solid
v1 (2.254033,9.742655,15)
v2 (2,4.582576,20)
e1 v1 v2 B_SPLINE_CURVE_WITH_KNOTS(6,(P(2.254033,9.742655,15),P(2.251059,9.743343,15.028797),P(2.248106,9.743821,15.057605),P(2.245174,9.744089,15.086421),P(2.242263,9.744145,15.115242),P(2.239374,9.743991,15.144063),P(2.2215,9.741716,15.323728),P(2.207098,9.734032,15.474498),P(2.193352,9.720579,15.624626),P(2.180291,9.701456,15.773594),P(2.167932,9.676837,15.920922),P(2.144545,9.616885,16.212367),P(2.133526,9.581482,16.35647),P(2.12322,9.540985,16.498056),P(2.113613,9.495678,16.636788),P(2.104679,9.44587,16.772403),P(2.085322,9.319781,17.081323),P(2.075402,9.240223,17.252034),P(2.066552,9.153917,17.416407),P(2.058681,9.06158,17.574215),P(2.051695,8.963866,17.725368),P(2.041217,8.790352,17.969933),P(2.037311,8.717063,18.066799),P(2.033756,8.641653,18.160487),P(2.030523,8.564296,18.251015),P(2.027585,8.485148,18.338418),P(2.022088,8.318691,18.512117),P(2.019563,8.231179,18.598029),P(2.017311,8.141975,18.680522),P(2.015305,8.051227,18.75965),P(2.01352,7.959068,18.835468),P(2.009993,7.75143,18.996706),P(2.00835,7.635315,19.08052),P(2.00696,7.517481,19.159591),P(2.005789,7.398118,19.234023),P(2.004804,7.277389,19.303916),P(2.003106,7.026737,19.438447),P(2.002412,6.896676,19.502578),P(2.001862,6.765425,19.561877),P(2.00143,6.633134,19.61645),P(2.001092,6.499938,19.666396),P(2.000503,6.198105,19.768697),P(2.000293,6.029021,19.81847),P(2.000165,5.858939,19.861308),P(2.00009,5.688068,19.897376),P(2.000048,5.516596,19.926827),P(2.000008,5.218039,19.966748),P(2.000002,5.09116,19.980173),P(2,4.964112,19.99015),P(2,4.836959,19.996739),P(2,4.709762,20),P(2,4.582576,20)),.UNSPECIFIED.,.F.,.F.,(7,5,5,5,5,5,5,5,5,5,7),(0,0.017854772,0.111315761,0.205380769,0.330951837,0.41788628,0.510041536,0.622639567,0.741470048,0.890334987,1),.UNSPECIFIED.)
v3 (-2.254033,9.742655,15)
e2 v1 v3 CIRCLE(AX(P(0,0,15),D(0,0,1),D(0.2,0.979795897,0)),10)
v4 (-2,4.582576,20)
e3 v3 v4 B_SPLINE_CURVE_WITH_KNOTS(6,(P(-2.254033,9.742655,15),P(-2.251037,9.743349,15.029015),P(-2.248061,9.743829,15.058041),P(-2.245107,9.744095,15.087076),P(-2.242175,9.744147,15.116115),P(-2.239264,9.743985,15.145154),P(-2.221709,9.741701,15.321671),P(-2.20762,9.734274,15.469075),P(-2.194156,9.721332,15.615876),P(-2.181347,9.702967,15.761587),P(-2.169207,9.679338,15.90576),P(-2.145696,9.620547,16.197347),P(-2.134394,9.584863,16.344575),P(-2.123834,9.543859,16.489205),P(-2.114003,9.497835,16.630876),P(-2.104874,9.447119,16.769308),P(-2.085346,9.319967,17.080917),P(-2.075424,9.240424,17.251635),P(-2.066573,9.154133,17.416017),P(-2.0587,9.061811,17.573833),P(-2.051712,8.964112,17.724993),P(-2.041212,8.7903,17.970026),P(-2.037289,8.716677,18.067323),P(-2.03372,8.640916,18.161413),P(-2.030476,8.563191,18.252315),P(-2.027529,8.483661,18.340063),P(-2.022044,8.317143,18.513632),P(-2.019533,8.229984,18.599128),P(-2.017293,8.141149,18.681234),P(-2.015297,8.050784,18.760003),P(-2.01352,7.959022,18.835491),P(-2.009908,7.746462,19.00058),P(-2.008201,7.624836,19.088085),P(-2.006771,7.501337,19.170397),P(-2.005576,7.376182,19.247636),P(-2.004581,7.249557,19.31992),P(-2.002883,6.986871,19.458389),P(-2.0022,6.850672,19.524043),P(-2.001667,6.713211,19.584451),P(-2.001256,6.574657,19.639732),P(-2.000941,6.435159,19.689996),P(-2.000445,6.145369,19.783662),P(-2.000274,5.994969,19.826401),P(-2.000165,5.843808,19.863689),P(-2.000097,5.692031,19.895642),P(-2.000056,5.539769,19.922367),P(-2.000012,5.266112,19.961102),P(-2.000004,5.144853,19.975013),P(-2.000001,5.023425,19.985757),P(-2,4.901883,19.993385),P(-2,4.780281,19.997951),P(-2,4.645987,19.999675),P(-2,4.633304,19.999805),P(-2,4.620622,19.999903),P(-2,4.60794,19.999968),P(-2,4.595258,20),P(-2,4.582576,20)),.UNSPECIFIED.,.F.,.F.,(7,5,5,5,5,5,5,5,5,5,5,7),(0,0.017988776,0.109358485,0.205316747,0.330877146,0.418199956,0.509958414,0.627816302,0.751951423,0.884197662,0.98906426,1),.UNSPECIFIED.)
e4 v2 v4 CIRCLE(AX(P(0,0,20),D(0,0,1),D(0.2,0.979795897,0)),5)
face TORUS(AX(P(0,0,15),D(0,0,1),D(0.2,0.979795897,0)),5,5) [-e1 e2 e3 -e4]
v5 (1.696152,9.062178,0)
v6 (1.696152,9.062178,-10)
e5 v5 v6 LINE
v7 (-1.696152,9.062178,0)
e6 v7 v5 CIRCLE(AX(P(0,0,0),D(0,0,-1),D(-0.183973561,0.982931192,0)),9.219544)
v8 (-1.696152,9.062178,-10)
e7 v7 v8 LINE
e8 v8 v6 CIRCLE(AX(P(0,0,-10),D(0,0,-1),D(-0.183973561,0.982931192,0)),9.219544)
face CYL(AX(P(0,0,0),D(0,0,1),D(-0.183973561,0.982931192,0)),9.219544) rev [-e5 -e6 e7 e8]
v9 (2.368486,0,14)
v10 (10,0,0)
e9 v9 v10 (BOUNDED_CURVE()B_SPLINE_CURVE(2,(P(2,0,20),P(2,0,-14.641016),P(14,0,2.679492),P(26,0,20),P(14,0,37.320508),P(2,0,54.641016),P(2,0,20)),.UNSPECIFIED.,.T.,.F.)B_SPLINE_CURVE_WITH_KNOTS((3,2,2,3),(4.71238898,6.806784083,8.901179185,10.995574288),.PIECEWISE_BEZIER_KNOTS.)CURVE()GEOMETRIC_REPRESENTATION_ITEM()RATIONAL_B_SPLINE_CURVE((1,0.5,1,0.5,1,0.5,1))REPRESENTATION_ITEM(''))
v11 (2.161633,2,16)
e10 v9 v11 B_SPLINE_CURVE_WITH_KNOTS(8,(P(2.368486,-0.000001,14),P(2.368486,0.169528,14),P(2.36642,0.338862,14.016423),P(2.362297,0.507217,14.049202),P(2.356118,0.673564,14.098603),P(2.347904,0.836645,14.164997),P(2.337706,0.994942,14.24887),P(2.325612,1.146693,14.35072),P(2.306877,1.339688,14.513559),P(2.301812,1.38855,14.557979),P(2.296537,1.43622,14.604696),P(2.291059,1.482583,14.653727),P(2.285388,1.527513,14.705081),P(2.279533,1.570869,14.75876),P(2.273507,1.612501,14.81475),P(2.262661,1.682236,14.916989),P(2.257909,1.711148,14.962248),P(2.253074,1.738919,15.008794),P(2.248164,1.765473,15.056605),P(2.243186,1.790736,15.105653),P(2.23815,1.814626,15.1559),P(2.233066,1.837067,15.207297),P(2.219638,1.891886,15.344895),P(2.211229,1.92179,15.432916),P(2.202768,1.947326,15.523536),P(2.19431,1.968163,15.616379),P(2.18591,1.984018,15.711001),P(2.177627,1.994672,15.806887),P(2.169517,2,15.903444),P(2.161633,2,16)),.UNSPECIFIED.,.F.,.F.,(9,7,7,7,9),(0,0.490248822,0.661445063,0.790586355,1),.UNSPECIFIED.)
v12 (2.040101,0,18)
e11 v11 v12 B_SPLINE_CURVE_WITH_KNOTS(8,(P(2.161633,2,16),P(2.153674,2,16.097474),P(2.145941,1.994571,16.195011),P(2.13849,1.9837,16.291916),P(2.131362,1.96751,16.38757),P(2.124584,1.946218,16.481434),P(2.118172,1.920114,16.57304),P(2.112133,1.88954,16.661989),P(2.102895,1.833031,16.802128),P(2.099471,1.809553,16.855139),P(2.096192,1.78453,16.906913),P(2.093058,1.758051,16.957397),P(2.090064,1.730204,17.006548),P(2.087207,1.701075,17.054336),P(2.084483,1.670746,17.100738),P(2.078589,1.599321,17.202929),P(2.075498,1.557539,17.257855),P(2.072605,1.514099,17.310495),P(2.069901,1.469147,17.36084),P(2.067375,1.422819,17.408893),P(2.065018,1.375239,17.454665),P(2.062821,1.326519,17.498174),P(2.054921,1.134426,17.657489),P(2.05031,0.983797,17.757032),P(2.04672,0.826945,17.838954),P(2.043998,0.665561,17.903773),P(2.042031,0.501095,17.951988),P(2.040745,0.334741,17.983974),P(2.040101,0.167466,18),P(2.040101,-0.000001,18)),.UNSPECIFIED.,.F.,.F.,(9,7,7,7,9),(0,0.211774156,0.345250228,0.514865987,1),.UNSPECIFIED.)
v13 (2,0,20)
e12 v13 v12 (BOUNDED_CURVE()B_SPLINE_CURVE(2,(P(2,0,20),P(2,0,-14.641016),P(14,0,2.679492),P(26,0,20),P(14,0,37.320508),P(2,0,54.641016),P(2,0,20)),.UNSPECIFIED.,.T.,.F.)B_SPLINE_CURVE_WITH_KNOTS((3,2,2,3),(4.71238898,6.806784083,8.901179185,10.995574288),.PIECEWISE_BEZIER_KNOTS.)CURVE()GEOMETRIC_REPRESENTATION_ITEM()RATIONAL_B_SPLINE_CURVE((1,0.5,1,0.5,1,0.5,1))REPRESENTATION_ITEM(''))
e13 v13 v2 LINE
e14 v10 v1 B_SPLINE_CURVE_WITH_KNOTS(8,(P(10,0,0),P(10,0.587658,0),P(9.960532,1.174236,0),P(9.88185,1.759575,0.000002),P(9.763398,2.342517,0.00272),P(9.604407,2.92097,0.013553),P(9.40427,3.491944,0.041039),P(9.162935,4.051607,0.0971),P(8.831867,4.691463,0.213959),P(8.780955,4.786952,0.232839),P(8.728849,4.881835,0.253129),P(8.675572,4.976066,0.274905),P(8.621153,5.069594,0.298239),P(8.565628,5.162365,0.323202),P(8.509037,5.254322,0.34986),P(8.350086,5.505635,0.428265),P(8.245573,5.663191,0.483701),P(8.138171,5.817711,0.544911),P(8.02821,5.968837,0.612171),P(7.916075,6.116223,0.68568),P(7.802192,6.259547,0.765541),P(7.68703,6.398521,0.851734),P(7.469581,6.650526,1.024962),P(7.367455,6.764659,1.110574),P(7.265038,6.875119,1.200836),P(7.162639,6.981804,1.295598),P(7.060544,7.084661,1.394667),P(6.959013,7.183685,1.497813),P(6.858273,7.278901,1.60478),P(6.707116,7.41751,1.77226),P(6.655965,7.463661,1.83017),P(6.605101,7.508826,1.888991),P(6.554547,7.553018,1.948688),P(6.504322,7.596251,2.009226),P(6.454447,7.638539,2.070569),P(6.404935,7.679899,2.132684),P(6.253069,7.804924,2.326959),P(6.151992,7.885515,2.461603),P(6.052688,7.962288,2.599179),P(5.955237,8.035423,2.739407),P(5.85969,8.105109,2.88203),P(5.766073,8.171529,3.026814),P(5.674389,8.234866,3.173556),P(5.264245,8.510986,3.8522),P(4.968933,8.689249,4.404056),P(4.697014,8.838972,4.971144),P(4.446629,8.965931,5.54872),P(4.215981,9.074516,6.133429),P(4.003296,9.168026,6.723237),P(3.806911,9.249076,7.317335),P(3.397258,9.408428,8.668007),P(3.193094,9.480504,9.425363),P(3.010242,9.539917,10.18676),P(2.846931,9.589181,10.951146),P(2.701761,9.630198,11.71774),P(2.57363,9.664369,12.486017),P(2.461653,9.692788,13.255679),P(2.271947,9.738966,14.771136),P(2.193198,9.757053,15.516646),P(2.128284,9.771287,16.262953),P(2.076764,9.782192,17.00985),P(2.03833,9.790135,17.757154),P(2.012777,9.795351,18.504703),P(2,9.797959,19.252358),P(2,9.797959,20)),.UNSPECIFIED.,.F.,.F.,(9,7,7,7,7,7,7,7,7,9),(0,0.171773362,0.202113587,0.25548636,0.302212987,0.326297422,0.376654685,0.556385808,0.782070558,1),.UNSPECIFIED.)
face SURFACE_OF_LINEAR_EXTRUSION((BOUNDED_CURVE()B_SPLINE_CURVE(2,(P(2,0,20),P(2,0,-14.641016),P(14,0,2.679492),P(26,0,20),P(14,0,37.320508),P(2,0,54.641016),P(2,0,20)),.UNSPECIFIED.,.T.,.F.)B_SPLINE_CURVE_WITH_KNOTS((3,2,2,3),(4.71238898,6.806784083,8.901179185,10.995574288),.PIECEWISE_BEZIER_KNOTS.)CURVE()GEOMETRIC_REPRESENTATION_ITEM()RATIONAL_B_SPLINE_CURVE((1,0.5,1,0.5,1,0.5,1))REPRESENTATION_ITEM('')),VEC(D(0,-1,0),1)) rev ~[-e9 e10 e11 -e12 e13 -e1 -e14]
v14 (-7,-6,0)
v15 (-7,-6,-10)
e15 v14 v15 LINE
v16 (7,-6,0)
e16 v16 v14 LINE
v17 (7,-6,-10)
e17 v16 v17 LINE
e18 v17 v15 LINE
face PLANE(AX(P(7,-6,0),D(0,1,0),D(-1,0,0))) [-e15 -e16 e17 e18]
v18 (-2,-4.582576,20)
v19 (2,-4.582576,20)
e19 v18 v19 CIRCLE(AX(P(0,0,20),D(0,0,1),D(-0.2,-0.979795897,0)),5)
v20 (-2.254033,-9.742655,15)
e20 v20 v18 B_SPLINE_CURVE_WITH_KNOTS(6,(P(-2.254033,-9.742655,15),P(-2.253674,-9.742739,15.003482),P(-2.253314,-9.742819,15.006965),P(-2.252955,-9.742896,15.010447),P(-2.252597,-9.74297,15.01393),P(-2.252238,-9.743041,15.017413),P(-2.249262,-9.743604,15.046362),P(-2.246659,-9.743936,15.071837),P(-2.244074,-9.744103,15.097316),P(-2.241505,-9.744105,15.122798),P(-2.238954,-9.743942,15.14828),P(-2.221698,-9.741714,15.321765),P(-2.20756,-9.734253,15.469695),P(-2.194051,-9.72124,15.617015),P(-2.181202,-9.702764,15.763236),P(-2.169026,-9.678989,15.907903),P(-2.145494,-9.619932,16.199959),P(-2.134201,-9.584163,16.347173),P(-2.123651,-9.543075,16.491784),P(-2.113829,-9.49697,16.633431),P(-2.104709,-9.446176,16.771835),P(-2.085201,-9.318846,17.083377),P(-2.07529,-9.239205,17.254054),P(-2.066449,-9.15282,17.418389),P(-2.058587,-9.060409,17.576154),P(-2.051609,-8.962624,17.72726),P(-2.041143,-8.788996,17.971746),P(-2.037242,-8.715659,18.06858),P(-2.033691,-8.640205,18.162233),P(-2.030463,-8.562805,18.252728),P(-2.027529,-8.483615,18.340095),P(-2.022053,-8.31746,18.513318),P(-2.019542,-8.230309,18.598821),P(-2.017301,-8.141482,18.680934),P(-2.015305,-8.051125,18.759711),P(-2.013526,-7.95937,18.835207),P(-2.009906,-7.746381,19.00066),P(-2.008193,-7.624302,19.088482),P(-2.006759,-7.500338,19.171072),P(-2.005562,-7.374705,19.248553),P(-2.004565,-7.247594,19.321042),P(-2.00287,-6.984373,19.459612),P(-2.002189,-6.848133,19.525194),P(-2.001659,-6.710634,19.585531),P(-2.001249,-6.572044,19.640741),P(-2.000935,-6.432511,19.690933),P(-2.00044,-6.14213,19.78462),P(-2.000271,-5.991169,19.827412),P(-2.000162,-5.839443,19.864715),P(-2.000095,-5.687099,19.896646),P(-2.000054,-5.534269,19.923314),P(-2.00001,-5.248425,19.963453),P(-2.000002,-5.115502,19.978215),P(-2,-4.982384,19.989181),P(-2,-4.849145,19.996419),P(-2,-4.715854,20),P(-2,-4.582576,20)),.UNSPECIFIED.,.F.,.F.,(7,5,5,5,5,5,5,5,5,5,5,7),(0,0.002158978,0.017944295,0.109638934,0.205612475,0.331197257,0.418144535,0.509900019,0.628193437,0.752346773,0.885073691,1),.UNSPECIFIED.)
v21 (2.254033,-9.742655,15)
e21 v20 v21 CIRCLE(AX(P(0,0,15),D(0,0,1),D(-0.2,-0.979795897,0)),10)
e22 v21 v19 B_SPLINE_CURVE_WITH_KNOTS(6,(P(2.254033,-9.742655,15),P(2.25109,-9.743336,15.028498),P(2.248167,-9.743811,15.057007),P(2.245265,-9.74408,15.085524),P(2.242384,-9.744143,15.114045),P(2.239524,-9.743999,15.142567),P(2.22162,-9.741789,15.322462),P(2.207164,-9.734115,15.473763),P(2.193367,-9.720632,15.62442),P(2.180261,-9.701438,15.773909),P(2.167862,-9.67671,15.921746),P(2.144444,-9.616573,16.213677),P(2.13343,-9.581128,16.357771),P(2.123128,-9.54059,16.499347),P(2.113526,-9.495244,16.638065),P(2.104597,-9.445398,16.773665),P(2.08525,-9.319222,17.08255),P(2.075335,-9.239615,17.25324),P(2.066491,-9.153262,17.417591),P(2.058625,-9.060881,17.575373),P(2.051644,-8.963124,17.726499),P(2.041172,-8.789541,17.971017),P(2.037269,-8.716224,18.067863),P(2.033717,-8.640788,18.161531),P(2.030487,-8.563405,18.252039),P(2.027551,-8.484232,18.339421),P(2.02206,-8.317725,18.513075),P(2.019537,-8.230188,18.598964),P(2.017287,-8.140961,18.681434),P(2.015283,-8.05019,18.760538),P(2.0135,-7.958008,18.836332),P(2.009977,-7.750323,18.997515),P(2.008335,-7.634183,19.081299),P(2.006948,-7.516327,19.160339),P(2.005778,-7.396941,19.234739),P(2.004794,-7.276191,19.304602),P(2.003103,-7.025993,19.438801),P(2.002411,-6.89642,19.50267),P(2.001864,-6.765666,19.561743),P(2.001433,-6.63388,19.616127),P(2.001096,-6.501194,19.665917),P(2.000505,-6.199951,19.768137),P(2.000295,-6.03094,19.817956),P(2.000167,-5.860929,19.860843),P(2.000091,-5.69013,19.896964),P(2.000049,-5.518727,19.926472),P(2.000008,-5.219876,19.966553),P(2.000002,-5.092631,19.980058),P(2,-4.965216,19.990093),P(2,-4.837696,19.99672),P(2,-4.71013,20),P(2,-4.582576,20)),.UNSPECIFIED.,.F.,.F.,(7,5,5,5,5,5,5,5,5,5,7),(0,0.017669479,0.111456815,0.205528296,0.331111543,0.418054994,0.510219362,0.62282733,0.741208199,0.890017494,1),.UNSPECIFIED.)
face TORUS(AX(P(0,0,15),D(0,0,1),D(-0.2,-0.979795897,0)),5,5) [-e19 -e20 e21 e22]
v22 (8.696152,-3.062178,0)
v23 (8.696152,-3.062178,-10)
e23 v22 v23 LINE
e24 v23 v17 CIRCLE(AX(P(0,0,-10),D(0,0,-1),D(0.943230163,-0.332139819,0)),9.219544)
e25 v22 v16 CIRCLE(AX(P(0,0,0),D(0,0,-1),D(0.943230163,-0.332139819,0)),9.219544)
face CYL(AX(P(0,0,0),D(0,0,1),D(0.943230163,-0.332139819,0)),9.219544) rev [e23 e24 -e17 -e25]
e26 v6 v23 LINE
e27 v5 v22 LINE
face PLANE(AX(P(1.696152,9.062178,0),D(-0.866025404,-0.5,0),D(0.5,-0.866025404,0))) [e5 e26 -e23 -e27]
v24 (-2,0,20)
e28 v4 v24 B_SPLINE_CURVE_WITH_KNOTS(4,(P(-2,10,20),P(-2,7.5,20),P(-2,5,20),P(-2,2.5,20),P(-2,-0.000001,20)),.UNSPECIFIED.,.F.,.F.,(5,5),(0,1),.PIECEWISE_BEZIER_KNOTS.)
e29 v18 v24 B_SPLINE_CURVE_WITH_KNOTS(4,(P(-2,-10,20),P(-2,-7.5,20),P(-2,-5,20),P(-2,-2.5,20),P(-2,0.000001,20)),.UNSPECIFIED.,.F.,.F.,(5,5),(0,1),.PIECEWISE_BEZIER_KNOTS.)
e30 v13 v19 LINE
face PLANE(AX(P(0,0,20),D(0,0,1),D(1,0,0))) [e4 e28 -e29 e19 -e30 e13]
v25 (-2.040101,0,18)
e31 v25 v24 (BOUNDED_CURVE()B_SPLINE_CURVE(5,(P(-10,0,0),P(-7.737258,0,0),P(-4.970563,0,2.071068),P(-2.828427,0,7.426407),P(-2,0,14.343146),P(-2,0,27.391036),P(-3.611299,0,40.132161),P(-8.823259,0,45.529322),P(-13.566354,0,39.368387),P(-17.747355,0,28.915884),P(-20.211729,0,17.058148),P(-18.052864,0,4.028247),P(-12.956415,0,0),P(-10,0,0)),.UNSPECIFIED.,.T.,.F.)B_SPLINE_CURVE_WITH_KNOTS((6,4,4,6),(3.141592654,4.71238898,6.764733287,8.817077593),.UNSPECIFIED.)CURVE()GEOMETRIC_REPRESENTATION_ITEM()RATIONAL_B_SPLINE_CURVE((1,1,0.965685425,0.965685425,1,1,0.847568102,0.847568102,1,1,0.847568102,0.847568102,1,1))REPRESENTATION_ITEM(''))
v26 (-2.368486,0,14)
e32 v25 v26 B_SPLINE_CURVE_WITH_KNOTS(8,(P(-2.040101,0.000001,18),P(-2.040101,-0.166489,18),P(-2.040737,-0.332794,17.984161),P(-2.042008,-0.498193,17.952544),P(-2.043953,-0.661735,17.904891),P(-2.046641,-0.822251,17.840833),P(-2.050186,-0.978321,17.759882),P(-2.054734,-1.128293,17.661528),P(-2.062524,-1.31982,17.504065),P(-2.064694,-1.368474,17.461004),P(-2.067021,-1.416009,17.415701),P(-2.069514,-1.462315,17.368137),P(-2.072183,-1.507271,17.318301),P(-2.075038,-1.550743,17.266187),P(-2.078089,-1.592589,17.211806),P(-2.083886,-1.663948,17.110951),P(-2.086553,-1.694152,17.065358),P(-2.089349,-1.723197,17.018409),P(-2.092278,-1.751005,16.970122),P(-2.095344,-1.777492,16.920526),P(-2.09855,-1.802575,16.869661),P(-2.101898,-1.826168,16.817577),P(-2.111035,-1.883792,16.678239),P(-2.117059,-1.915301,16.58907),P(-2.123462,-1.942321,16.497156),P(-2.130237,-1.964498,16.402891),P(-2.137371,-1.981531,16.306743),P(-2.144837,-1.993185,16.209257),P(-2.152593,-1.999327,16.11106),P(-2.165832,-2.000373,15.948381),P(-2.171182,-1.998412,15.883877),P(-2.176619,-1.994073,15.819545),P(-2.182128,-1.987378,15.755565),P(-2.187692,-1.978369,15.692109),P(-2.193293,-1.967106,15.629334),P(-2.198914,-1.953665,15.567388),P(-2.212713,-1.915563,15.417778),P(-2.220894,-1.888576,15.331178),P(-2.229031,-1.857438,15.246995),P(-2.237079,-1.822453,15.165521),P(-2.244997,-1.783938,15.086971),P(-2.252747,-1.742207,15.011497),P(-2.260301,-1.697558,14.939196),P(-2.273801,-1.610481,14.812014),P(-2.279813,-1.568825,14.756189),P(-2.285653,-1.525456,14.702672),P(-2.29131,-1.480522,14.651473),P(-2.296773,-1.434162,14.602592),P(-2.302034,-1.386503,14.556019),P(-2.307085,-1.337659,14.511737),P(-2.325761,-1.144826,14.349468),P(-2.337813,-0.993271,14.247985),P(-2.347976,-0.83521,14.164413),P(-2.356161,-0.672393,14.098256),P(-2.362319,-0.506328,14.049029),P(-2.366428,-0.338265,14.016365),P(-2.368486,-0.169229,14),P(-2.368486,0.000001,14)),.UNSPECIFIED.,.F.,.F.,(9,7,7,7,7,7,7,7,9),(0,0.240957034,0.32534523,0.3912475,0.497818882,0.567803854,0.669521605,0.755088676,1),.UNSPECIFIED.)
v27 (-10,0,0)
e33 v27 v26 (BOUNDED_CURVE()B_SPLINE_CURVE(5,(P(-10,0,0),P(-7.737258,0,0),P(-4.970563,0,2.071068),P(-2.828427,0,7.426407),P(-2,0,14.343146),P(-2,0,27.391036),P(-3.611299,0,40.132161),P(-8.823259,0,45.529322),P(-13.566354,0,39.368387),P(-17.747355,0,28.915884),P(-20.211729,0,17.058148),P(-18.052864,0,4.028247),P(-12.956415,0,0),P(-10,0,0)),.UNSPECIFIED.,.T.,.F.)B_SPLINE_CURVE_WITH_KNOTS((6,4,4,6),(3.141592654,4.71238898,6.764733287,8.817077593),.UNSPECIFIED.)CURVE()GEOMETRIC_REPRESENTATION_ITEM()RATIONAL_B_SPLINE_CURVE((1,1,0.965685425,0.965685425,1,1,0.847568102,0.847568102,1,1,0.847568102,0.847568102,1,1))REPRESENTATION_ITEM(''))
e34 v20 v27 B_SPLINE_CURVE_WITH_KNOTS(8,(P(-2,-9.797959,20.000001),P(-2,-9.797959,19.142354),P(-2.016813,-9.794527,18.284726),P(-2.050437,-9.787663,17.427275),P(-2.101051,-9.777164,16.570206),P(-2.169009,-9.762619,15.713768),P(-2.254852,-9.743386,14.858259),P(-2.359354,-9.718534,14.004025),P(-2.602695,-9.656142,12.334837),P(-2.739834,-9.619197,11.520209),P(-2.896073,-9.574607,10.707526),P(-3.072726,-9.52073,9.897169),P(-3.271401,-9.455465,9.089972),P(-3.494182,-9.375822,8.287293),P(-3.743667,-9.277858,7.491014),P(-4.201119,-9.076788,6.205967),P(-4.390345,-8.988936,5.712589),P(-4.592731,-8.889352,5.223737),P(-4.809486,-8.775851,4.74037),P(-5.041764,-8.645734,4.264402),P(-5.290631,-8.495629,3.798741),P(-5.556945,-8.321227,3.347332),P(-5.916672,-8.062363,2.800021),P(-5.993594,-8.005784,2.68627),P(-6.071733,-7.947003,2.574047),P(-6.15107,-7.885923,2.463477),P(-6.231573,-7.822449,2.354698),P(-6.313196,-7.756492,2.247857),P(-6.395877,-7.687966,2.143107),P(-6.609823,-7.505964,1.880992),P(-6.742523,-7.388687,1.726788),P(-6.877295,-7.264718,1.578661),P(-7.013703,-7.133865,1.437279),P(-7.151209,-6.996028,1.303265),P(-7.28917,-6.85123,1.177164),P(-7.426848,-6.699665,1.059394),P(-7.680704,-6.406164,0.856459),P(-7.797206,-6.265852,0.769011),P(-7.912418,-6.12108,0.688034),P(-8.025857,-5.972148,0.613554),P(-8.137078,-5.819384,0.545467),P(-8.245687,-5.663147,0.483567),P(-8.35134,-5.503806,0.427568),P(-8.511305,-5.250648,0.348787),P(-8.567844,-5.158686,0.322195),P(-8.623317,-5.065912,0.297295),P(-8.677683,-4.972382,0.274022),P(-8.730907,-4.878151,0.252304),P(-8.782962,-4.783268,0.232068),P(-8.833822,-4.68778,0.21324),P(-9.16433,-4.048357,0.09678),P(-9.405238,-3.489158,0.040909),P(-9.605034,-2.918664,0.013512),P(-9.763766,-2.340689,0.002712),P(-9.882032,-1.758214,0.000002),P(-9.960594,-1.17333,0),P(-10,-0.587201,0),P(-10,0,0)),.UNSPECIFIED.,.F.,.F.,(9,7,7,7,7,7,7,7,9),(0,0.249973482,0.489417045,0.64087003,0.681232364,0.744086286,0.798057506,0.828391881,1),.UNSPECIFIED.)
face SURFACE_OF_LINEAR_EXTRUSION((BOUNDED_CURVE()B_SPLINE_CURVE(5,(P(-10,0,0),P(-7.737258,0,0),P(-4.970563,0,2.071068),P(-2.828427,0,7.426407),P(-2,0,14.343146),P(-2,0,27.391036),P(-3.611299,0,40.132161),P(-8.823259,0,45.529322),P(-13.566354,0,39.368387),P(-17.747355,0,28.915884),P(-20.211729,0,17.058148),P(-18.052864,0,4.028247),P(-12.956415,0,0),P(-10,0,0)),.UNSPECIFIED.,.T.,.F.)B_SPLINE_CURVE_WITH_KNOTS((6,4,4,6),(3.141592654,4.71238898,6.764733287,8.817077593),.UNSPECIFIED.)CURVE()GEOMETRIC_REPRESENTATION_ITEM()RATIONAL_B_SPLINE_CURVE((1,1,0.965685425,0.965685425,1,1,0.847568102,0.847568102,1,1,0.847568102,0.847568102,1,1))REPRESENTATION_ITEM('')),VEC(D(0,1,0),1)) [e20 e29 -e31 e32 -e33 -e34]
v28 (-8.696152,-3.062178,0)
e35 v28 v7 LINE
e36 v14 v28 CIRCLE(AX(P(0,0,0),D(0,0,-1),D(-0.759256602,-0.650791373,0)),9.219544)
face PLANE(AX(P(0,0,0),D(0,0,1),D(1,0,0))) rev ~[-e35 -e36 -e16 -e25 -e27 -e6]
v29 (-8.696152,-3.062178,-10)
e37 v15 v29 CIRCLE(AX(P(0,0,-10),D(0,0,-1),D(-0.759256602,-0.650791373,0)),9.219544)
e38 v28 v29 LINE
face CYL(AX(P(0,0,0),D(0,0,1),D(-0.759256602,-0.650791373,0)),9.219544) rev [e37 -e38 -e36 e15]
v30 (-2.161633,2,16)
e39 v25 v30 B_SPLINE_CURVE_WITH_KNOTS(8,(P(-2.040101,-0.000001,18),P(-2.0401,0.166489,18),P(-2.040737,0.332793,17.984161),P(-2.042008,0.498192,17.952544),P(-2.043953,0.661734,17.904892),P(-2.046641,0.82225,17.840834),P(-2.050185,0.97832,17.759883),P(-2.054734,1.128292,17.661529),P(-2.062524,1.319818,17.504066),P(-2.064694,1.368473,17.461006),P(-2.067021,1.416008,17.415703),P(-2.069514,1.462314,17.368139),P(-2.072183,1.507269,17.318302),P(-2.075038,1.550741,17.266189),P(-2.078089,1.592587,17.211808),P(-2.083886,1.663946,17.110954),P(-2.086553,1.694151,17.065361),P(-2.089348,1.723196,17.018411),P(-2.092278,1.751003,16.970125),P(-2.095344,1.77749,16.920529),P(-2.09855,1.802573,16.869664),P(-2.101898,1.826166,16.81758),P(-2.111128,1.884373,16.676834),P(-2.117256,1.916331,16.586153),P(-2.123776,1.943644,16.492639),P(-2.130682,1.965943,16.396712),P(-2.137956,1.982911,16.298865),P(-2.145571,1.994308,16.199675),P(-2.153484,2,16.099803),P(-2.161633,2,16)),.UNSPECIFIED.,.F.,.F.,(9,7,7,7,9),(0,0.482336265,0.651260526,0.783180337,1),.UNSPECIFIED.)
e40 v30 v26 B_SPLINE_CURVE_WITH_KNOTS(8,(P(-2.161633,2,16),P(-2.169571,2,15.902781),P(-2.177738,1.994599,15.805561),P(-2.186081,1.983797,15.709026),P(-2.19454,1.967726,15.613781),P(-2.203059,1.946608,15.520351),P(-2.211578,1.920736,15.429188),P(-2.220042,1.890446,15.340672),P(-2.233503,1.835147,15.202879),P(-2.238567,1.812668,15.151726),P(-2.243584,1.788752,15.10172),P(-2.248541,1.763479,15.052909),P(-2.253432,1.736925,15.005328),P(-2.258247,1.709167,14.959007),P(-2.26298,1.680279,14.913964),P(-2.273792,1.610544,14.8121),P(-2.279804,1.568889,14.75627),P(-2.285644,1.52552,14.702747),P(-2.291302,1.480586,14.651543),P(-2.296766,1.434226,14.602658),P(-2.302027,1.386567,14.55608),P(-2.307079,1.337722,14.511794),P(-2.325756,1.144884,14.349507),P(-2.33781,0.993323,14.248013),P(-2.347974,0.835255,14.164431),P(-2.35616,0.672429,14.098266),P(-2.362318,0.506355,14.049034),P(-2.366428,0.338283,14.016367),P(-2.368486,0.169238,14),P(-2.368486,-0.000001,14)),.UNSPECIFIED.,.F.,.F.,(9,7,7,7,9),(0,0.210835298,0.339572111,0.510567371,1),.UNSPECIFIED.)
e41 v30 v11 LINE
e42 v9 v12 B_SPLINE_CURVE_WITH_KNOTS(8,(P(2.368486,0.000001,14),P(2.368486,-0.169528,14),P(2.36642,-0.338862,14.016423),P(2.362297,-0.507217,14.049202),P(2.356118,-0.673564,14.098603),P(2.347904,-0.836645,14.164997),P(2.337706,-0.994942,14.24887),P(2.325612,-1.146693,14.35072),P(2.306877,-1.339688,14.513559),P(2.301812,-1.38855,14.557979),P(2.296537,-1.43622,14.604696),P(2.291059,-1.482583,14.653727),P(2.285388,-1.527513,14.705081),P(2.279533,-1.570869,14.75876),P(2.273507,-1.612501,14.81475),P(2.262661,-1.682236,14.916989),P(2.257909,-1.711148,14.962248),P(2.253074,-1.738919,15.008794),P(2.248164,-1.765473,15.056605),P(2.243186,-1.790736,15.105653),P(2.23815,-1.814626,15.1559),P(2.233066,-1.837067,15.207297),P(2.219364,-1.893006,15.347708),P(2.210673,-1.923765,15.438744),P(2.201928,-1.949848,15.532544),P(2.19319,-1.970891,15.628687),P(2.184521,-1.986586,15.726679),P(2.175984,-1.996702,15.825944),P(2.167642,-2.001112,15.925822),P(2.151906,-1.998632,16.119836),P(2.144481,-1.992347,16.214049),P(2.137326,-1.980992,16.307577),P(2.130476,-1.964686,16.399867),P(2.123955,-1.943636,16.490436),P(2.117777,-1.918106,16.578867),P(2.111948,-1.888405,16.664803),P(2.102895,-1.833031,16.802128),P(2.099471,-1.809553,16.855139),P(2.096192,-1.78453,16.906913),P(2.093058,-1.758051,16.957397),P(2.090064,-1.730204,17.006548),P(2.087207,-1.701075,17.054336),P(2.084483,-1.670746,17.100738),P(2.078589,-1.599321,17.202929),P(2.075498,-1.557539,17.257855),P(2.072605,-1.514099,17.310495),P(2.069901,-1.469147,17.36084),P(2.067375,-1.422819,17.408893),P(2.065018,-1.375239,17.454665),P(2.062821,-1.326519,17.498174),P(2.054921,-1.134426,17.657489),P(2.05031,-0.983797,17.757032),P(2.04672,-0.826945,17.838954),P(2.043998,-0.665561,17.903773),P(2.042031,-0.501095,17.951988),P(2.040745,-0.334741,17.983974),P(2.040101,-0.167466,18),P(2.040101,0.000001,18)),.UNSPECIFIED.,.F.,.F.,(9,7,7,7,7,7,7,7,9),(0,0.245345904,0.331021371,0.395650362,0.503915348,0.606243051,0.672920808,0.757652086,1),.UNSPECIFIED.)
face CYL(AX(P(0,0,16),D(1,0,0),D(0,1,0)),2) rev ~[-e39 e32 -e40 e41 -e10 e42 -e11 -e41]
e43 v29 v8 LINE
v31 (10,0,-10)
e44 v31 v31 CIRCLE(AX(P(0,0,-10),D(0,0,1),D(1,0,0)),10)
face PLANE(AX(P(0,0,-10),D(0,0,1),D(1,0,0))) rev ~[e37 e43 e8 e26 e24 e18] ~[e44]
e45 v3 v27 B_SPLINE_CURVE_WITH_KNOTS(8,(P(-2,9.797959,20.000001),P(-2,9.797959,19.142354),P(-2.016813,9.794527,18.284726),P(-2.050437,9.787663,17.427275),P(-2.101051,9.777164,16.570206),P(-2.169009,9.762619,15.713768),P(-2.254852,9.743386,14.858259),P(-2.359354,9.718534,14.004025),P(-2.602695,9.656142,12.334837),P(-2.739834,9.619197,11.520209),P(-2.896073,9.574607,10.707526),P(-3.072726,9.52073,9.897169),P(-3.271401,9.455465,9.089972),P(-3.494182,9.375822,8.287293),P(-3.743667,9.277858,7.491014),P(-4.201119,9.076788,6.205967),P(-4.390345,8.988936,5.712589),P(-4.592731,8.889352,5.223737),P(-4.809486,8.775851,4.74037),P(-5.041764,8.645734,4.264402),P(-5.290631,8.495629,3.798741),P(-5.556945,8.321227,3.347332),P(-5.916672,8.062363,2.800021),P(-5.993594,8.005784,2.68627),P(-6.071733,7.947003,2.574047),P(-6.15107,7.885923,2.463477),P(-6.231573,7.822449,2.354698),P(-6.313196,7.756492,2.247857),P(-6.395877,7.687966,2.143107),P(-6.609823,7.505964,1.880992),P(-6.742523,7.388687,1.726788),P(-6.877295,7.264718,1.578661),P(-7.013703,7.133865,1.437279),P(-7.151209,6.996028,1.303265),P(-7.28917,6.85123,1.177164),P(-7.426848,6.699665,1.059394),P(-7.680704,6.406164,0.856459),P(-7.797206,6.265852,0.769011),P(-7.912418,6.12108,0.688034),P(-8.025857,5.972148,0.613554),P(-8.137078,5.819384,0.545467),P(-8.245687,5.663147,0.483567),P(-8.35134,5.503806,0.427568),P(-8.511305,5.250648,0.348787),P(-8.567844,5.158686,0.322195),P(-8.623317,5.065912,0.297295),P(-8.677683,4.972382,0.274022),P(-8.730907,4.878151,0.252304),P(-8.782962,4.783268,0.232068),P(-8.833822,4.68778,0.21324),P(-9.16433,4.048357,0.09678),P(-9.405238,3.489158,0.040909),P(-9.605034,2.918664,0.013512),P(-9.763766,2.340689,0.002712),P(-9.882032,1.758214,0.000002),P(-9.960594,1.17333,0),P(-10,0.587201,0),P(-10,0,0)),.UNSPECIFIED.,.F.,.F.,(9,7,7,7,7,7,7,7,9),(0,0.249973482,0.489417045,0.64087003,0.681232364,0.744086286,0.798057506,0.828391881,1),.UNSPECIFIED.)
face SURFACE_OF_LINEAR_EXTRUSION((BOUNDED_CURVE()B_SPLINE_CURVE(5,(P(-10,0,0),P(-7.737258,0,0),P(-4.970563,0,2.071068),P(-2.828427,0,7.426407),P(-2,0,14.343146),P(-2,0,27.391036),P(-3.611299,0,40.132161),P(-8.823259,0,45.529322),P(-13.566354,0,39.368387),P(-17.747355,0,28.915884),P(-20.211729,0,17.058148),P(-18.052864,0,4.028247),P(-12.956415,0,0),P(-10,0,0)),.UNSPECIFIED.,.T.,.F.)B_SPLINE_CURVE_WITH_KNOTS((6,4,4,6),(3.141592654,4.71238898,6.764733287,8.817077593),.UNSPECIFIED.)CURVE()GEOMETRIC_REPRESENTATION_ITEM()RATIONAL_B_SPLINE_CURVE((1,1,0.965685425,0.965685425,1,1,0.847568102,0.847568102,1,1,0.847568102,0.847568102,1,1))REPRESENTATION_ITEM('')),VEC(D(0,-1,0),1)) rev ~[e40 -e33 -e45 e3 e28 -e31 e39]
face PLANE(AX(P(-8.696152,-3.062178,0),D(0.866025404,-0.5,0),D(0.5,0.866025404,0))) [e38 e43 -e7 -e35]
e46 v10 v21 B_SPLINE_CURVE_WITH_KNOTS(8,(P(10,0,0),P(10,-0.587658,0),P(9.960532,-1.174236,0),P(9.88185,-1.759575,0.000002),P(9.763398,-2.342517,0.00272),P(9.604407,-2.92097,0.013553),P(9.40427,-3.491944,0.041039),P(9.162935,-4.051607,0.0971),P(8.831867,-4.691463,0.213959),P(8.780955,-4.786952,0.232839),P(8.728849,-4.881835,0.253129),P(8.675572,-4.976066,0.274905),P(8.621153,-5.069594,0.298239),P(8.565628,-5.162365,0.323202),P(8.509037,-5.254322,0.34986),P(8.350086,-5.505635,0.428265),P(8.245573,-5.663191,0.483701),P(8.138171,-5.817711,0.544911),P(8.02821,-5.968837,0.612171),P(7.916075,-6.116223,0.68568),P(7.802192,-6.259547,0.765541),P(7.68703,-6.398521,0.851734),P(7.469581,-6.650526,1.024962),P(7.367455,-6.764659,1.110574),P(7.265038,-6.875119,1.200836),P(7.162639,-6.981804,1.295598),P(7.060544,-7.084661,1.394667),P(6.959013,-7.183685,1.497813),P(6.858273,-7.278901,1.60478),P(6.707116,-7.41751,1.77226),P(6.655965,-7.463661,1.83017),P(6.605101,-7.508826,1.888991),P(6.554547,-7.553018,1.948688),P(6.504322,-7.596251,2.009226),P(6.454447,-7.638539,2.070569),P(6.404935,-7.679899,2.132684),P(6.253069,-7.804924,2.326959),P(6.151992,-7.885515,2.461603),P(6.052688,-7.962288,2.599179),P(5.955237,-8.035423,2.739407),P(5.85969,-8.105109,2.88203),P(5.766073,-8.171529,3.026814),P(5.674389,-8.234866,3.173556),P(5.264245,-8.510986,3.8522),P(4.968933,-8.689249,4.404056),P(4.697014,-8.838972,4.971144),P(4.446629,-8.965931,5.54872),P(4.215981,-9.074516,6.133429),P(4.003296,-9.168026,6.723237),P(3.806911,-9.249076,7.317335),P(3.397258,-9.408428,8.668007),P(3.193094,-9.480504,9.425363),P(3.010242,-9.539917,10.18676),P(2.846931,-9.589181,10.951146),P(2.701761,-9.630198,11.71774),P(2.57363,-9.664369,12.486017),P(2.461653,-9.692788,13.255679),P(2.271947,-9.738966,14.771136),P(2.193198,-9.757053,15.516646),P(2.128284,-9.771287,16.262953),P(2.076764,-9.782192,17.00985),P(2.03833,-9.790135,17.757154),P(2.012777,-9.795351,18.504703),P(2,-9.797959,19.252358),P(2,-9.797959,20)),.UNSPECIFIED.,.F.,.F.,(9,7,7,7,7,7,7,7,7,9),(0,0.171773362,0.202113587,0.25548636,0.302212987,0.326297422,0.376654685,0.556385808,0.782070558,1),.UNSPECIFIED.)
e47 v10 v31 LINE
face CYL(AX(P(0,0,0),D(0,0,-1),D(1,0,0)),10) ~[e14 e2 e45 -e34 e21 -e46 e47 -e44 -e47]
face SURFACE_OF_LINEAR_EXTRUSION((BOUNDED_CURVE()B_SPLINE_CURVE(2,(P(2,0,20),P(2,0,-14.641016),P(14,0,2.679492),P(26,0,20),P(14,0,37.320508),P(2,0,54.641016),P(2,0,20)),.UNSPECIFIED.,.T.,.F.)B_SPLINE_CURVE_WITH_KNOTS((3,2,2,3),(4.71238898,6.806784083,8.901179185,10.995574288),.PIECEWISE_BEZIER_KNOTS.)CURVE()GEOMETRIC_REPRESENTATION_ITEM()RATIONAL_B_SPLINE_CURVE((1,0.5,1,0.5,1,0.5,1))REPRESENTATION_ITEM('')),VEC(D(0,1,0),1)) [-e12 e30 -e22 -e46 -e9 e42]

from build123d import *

# Parameters (mm, degrees)
F2_R     = 10
F3_DEPTH = 10
F4_DEPTH = 20
F6_DEPTH = 12.5
F7_R     = 2
F8_DEPTH = 12.5
F9_R     = 5


with BuildPart() as f3:
    # F2 (on Top) → F3 (new body)
    with BuildSketch(Plane.XY):
        Circle(F2_R)
        with BuildLine():
            ThreePointArc((7, -6), (0, -9.2195444573), (-7, -6))
            ThreePointArc((-7, -6), (-7.9843597113, -4.6097722286), (-8.6961524227, -3.0621778265))
            ThreePointArc((-8.6961524227, -3.0621778265), (-7.9843597113, 4.6097722286), (-1.6961524227, 9.0621778265))
            ThreePointArc((-1.6961524227, 9.0621778265), (0, 9.2195444573), (1.6961524227, 9.0621778265))
            ThreePointArc((1.6961524227, 9.0621778265), (7.0935799378, 5.8890681492), (9.2195444573, 0))
            ThreePointArc((9.2195444573, 0), (9.0877545045, -1.553292653), (8.6961524227, -3.0621778265))
            ThreePointArc((8.6961524227, -3.0621778265), (7.9843597113, -4.6097722286), (7, -6))
        make_face(mode=Mode.SUBTRACT)
        with BuildLine():
            Line((-8.6961524227, -3.0621778265), (-5.1961524227, 3))
            Line((-5.1961524227, 3), (-1.6961524227, 9.0621778265))
            ThreePointArc((-1.6961524227, 9.0621778265), (-7.9843597113, 4.6097722286), (-8.6961524227, -3.0621778265))
        make_face()
        with BuildLine():
            Line((7, -6), (0, -6))
            Line((0, -6), (-7, -6))
            ThreePointArc((-7, -6), (0, -9.2195444573), (7, -6))
        make_face()
        with BuildLine():
            Line((1.6961524227, 9.0621778265), (5.1961524227, 3))
            Line((5.1961524227, 3), (8.6961524227, -3.0621778265))
            ThreePointArc((8.6961524227, -3.0621778265), (9.0877545045, -1.553292653), (9.2195444573, 0))
            ThreePointArc((9.2195444573, 0), (7.0935799378, 5.8890681492), (1.6961524227, 9.0621778265))
        make_face()
    extrude(amount=-F3_DEPTH)

    # F2 (on Top) → F4 (join)
    with BuildSketch(Plane.XY):
        Circle(F2_R)
        with BuildLine():
            ThreePointArc((7, -6), (0, -9.2195444573), (-7, -6))
            ThreePointArc((-7, -6), (-7.9843597113, -4.6097722286), (-8.6961524227, -3.0621778265))
            ThreePointArc((-8.6961524227, -3.0621778265), (-7.9843597113, 4.6097722286), (-1.6961524227, 9.0621778265))
            ThreePointArc((-1.6961524227, 9.0621778265), (0, 9.2195444573), (1.6961524227, 9.0621778265))
            ThreePointArc((1.6961524227, 9.0621778265), (7.0935799378, 5.8890681492), (9.2195444573, 0))
            ThreePointArc((9.2195444573, 0), (9.0877545045, -1.553292653), (8.6961524227, -3.0621778265))
            ThreePointArc((8.6961524227, -3.0621778265), (7.9843597113, -4.6097722286), (7, -6))
        make_face(mode=Mode.SUBTRACT)
        with BuildLine():
            Line((0, -6), (0, 0))
            Line((0, 0), (-5.1961524227, 3))
            Line((-5.1961524227, 3), (-8.6961524227, -3.0621778265))
            ThreePointArc((-8.6961524227, -3.0621778265), (-7.9843597113, -4.6097722286), (-7, -6))
            Line((-7, -6), (0, -6))
        make_face()
        with BuildLine():
            Line((-8.6961524227, -3.0621778265), (-5.1961524227, 3))
            Line((-5.1961524227, 3), (-1.6961524227, 9.0621778265))
            ThreePointArc((-1.6961524227, 9.0621778265), (-7.9843597113, 4.6097722286), (-8.6961524227, -3.0621778265))
        make_face()
        with BuildLine():
            Line((-5.1961524227, 3), (0, 0))
            Line((0, 0), (5.1961524227, 3))
            Line((5.1961524227, 3), (1.6961524227, 9.0621778265))
            ThreePointArc((1.6961524227, 9.0621778265), (0, 9.2195444573), (-1.6961524227, 9.0621778265))
            Line((-1.6961524227, 9.0621778265), (-5.1961524227, 3))
        make_face()
        with BuildLine():
            Line((5.1961524227, 3), (0, 0))
            Line((0, 0), (0, -6))
            Line((0, -6), (7, -6))
            ThreePointArc((7, -6), (7.9843597113, -4.6097722286), (8.6961524227, -3.0621778265))
            Line((8.6961524227, -3.0621778265), (5.1961524227, 3))
        make_face()
        with BuildLine():
            Line((1.6961524227, 9.0621778265), (5.1961524227, 3))
            Line((5.1961524227, 3), (8.6961524227, -3.0621778265))
            ThreePointArc((8.6961524227, -3.0621778265), (9.0877545045, -1.553292653), (9.2195444573, 0))
            ThreePointArc((9.2195444573, 0), (7.0935799378, 5.8890681492), (1.6961524227, 9.0621778265))
        make_face()
        with BuildLine():
            Line((7, -6), (0, -6))
            Line((0, -6), (-7, -6))
            ThreePointArc((-7, -6), (0, -9.2195444573), (7, -6))
        make_face()
    extrude(amount=F4_DEPTH)

    # F5 (on Front) → F6 (cut, symmetric)
    with BuildSketch(Plane.XZ):
        with BuildLine():
            Line((-10, 0), (-10, 20))
            Line((-10, 20), (-2, 20))
            add(Edge.make_bspline(
                [(-2, 20), (-2, 68.2842712475), (-15.6568542495, 34.1421356237), (-29.313708499, 0), (-10, 0)],
                knots=[4.7123889804, 4.7123889804, 4.7123889804, 7.0685834706, 7.0685834706, 9.4247779608, 9.4247779608, 9.4247779608], degree=2, weights=[1, 0.3826834324, 1, 0.3826834324, 1]))
        make_face()
        with BuildLine():
            Line((-2, 20), (-10, 20))
            Line((-10, 20), (-10, 0))
            add(Edge.make_bspline(
                [(-10, 0), (-2, 0), (-2, 20)],
                knots=[3.1415926536, 3.1415926536, 3.1415926536, 4.7123889804, 4.7123889804, 4.7123889804], degree=2, weights=[1, 0.7071067812, 1]))
        make_face()
        with BuildLine():
            add(Edge.make_bspline(
                [(2, 20), (2, -14.6410161514), (14, 2.6794919243), (26, 20), (14, 37.3205080757), (2, 54.6410161514), (2, 20)],
                knots=[4.7123889804, 4.7123889804, 4.7123889804, 6.8067840828, 6.8067840828, 8.9011791852, 8.9011791852, 10.9955742876, 10.9955742876, 10.9955742876], degree=2, weights=[1, 0.5, 1, 0.5, 1, 0.5, 1]))
        make_face()
    extrude(amount=F6_DEPTH, both=True, mode=Mode.SUBTRACT)

    # F7 (on Right) → F8 (cut, symmetric)
    with BuildSketch(Plane.YZ):
        with Locations((0, 16)):
            Circle(F7_R)
    extrude(amount=F8_DEPTH, both=True, mode=Mode.SUBTRACT)

    # F9
    f9_edges = [f3.edges().sort_by_distance(p)[0] for p in [
        (0, 10, 20),
        (0, -10, 20),
    ]]
    fillet(f9_edges, radius=F9_R)


solid = f3.part
